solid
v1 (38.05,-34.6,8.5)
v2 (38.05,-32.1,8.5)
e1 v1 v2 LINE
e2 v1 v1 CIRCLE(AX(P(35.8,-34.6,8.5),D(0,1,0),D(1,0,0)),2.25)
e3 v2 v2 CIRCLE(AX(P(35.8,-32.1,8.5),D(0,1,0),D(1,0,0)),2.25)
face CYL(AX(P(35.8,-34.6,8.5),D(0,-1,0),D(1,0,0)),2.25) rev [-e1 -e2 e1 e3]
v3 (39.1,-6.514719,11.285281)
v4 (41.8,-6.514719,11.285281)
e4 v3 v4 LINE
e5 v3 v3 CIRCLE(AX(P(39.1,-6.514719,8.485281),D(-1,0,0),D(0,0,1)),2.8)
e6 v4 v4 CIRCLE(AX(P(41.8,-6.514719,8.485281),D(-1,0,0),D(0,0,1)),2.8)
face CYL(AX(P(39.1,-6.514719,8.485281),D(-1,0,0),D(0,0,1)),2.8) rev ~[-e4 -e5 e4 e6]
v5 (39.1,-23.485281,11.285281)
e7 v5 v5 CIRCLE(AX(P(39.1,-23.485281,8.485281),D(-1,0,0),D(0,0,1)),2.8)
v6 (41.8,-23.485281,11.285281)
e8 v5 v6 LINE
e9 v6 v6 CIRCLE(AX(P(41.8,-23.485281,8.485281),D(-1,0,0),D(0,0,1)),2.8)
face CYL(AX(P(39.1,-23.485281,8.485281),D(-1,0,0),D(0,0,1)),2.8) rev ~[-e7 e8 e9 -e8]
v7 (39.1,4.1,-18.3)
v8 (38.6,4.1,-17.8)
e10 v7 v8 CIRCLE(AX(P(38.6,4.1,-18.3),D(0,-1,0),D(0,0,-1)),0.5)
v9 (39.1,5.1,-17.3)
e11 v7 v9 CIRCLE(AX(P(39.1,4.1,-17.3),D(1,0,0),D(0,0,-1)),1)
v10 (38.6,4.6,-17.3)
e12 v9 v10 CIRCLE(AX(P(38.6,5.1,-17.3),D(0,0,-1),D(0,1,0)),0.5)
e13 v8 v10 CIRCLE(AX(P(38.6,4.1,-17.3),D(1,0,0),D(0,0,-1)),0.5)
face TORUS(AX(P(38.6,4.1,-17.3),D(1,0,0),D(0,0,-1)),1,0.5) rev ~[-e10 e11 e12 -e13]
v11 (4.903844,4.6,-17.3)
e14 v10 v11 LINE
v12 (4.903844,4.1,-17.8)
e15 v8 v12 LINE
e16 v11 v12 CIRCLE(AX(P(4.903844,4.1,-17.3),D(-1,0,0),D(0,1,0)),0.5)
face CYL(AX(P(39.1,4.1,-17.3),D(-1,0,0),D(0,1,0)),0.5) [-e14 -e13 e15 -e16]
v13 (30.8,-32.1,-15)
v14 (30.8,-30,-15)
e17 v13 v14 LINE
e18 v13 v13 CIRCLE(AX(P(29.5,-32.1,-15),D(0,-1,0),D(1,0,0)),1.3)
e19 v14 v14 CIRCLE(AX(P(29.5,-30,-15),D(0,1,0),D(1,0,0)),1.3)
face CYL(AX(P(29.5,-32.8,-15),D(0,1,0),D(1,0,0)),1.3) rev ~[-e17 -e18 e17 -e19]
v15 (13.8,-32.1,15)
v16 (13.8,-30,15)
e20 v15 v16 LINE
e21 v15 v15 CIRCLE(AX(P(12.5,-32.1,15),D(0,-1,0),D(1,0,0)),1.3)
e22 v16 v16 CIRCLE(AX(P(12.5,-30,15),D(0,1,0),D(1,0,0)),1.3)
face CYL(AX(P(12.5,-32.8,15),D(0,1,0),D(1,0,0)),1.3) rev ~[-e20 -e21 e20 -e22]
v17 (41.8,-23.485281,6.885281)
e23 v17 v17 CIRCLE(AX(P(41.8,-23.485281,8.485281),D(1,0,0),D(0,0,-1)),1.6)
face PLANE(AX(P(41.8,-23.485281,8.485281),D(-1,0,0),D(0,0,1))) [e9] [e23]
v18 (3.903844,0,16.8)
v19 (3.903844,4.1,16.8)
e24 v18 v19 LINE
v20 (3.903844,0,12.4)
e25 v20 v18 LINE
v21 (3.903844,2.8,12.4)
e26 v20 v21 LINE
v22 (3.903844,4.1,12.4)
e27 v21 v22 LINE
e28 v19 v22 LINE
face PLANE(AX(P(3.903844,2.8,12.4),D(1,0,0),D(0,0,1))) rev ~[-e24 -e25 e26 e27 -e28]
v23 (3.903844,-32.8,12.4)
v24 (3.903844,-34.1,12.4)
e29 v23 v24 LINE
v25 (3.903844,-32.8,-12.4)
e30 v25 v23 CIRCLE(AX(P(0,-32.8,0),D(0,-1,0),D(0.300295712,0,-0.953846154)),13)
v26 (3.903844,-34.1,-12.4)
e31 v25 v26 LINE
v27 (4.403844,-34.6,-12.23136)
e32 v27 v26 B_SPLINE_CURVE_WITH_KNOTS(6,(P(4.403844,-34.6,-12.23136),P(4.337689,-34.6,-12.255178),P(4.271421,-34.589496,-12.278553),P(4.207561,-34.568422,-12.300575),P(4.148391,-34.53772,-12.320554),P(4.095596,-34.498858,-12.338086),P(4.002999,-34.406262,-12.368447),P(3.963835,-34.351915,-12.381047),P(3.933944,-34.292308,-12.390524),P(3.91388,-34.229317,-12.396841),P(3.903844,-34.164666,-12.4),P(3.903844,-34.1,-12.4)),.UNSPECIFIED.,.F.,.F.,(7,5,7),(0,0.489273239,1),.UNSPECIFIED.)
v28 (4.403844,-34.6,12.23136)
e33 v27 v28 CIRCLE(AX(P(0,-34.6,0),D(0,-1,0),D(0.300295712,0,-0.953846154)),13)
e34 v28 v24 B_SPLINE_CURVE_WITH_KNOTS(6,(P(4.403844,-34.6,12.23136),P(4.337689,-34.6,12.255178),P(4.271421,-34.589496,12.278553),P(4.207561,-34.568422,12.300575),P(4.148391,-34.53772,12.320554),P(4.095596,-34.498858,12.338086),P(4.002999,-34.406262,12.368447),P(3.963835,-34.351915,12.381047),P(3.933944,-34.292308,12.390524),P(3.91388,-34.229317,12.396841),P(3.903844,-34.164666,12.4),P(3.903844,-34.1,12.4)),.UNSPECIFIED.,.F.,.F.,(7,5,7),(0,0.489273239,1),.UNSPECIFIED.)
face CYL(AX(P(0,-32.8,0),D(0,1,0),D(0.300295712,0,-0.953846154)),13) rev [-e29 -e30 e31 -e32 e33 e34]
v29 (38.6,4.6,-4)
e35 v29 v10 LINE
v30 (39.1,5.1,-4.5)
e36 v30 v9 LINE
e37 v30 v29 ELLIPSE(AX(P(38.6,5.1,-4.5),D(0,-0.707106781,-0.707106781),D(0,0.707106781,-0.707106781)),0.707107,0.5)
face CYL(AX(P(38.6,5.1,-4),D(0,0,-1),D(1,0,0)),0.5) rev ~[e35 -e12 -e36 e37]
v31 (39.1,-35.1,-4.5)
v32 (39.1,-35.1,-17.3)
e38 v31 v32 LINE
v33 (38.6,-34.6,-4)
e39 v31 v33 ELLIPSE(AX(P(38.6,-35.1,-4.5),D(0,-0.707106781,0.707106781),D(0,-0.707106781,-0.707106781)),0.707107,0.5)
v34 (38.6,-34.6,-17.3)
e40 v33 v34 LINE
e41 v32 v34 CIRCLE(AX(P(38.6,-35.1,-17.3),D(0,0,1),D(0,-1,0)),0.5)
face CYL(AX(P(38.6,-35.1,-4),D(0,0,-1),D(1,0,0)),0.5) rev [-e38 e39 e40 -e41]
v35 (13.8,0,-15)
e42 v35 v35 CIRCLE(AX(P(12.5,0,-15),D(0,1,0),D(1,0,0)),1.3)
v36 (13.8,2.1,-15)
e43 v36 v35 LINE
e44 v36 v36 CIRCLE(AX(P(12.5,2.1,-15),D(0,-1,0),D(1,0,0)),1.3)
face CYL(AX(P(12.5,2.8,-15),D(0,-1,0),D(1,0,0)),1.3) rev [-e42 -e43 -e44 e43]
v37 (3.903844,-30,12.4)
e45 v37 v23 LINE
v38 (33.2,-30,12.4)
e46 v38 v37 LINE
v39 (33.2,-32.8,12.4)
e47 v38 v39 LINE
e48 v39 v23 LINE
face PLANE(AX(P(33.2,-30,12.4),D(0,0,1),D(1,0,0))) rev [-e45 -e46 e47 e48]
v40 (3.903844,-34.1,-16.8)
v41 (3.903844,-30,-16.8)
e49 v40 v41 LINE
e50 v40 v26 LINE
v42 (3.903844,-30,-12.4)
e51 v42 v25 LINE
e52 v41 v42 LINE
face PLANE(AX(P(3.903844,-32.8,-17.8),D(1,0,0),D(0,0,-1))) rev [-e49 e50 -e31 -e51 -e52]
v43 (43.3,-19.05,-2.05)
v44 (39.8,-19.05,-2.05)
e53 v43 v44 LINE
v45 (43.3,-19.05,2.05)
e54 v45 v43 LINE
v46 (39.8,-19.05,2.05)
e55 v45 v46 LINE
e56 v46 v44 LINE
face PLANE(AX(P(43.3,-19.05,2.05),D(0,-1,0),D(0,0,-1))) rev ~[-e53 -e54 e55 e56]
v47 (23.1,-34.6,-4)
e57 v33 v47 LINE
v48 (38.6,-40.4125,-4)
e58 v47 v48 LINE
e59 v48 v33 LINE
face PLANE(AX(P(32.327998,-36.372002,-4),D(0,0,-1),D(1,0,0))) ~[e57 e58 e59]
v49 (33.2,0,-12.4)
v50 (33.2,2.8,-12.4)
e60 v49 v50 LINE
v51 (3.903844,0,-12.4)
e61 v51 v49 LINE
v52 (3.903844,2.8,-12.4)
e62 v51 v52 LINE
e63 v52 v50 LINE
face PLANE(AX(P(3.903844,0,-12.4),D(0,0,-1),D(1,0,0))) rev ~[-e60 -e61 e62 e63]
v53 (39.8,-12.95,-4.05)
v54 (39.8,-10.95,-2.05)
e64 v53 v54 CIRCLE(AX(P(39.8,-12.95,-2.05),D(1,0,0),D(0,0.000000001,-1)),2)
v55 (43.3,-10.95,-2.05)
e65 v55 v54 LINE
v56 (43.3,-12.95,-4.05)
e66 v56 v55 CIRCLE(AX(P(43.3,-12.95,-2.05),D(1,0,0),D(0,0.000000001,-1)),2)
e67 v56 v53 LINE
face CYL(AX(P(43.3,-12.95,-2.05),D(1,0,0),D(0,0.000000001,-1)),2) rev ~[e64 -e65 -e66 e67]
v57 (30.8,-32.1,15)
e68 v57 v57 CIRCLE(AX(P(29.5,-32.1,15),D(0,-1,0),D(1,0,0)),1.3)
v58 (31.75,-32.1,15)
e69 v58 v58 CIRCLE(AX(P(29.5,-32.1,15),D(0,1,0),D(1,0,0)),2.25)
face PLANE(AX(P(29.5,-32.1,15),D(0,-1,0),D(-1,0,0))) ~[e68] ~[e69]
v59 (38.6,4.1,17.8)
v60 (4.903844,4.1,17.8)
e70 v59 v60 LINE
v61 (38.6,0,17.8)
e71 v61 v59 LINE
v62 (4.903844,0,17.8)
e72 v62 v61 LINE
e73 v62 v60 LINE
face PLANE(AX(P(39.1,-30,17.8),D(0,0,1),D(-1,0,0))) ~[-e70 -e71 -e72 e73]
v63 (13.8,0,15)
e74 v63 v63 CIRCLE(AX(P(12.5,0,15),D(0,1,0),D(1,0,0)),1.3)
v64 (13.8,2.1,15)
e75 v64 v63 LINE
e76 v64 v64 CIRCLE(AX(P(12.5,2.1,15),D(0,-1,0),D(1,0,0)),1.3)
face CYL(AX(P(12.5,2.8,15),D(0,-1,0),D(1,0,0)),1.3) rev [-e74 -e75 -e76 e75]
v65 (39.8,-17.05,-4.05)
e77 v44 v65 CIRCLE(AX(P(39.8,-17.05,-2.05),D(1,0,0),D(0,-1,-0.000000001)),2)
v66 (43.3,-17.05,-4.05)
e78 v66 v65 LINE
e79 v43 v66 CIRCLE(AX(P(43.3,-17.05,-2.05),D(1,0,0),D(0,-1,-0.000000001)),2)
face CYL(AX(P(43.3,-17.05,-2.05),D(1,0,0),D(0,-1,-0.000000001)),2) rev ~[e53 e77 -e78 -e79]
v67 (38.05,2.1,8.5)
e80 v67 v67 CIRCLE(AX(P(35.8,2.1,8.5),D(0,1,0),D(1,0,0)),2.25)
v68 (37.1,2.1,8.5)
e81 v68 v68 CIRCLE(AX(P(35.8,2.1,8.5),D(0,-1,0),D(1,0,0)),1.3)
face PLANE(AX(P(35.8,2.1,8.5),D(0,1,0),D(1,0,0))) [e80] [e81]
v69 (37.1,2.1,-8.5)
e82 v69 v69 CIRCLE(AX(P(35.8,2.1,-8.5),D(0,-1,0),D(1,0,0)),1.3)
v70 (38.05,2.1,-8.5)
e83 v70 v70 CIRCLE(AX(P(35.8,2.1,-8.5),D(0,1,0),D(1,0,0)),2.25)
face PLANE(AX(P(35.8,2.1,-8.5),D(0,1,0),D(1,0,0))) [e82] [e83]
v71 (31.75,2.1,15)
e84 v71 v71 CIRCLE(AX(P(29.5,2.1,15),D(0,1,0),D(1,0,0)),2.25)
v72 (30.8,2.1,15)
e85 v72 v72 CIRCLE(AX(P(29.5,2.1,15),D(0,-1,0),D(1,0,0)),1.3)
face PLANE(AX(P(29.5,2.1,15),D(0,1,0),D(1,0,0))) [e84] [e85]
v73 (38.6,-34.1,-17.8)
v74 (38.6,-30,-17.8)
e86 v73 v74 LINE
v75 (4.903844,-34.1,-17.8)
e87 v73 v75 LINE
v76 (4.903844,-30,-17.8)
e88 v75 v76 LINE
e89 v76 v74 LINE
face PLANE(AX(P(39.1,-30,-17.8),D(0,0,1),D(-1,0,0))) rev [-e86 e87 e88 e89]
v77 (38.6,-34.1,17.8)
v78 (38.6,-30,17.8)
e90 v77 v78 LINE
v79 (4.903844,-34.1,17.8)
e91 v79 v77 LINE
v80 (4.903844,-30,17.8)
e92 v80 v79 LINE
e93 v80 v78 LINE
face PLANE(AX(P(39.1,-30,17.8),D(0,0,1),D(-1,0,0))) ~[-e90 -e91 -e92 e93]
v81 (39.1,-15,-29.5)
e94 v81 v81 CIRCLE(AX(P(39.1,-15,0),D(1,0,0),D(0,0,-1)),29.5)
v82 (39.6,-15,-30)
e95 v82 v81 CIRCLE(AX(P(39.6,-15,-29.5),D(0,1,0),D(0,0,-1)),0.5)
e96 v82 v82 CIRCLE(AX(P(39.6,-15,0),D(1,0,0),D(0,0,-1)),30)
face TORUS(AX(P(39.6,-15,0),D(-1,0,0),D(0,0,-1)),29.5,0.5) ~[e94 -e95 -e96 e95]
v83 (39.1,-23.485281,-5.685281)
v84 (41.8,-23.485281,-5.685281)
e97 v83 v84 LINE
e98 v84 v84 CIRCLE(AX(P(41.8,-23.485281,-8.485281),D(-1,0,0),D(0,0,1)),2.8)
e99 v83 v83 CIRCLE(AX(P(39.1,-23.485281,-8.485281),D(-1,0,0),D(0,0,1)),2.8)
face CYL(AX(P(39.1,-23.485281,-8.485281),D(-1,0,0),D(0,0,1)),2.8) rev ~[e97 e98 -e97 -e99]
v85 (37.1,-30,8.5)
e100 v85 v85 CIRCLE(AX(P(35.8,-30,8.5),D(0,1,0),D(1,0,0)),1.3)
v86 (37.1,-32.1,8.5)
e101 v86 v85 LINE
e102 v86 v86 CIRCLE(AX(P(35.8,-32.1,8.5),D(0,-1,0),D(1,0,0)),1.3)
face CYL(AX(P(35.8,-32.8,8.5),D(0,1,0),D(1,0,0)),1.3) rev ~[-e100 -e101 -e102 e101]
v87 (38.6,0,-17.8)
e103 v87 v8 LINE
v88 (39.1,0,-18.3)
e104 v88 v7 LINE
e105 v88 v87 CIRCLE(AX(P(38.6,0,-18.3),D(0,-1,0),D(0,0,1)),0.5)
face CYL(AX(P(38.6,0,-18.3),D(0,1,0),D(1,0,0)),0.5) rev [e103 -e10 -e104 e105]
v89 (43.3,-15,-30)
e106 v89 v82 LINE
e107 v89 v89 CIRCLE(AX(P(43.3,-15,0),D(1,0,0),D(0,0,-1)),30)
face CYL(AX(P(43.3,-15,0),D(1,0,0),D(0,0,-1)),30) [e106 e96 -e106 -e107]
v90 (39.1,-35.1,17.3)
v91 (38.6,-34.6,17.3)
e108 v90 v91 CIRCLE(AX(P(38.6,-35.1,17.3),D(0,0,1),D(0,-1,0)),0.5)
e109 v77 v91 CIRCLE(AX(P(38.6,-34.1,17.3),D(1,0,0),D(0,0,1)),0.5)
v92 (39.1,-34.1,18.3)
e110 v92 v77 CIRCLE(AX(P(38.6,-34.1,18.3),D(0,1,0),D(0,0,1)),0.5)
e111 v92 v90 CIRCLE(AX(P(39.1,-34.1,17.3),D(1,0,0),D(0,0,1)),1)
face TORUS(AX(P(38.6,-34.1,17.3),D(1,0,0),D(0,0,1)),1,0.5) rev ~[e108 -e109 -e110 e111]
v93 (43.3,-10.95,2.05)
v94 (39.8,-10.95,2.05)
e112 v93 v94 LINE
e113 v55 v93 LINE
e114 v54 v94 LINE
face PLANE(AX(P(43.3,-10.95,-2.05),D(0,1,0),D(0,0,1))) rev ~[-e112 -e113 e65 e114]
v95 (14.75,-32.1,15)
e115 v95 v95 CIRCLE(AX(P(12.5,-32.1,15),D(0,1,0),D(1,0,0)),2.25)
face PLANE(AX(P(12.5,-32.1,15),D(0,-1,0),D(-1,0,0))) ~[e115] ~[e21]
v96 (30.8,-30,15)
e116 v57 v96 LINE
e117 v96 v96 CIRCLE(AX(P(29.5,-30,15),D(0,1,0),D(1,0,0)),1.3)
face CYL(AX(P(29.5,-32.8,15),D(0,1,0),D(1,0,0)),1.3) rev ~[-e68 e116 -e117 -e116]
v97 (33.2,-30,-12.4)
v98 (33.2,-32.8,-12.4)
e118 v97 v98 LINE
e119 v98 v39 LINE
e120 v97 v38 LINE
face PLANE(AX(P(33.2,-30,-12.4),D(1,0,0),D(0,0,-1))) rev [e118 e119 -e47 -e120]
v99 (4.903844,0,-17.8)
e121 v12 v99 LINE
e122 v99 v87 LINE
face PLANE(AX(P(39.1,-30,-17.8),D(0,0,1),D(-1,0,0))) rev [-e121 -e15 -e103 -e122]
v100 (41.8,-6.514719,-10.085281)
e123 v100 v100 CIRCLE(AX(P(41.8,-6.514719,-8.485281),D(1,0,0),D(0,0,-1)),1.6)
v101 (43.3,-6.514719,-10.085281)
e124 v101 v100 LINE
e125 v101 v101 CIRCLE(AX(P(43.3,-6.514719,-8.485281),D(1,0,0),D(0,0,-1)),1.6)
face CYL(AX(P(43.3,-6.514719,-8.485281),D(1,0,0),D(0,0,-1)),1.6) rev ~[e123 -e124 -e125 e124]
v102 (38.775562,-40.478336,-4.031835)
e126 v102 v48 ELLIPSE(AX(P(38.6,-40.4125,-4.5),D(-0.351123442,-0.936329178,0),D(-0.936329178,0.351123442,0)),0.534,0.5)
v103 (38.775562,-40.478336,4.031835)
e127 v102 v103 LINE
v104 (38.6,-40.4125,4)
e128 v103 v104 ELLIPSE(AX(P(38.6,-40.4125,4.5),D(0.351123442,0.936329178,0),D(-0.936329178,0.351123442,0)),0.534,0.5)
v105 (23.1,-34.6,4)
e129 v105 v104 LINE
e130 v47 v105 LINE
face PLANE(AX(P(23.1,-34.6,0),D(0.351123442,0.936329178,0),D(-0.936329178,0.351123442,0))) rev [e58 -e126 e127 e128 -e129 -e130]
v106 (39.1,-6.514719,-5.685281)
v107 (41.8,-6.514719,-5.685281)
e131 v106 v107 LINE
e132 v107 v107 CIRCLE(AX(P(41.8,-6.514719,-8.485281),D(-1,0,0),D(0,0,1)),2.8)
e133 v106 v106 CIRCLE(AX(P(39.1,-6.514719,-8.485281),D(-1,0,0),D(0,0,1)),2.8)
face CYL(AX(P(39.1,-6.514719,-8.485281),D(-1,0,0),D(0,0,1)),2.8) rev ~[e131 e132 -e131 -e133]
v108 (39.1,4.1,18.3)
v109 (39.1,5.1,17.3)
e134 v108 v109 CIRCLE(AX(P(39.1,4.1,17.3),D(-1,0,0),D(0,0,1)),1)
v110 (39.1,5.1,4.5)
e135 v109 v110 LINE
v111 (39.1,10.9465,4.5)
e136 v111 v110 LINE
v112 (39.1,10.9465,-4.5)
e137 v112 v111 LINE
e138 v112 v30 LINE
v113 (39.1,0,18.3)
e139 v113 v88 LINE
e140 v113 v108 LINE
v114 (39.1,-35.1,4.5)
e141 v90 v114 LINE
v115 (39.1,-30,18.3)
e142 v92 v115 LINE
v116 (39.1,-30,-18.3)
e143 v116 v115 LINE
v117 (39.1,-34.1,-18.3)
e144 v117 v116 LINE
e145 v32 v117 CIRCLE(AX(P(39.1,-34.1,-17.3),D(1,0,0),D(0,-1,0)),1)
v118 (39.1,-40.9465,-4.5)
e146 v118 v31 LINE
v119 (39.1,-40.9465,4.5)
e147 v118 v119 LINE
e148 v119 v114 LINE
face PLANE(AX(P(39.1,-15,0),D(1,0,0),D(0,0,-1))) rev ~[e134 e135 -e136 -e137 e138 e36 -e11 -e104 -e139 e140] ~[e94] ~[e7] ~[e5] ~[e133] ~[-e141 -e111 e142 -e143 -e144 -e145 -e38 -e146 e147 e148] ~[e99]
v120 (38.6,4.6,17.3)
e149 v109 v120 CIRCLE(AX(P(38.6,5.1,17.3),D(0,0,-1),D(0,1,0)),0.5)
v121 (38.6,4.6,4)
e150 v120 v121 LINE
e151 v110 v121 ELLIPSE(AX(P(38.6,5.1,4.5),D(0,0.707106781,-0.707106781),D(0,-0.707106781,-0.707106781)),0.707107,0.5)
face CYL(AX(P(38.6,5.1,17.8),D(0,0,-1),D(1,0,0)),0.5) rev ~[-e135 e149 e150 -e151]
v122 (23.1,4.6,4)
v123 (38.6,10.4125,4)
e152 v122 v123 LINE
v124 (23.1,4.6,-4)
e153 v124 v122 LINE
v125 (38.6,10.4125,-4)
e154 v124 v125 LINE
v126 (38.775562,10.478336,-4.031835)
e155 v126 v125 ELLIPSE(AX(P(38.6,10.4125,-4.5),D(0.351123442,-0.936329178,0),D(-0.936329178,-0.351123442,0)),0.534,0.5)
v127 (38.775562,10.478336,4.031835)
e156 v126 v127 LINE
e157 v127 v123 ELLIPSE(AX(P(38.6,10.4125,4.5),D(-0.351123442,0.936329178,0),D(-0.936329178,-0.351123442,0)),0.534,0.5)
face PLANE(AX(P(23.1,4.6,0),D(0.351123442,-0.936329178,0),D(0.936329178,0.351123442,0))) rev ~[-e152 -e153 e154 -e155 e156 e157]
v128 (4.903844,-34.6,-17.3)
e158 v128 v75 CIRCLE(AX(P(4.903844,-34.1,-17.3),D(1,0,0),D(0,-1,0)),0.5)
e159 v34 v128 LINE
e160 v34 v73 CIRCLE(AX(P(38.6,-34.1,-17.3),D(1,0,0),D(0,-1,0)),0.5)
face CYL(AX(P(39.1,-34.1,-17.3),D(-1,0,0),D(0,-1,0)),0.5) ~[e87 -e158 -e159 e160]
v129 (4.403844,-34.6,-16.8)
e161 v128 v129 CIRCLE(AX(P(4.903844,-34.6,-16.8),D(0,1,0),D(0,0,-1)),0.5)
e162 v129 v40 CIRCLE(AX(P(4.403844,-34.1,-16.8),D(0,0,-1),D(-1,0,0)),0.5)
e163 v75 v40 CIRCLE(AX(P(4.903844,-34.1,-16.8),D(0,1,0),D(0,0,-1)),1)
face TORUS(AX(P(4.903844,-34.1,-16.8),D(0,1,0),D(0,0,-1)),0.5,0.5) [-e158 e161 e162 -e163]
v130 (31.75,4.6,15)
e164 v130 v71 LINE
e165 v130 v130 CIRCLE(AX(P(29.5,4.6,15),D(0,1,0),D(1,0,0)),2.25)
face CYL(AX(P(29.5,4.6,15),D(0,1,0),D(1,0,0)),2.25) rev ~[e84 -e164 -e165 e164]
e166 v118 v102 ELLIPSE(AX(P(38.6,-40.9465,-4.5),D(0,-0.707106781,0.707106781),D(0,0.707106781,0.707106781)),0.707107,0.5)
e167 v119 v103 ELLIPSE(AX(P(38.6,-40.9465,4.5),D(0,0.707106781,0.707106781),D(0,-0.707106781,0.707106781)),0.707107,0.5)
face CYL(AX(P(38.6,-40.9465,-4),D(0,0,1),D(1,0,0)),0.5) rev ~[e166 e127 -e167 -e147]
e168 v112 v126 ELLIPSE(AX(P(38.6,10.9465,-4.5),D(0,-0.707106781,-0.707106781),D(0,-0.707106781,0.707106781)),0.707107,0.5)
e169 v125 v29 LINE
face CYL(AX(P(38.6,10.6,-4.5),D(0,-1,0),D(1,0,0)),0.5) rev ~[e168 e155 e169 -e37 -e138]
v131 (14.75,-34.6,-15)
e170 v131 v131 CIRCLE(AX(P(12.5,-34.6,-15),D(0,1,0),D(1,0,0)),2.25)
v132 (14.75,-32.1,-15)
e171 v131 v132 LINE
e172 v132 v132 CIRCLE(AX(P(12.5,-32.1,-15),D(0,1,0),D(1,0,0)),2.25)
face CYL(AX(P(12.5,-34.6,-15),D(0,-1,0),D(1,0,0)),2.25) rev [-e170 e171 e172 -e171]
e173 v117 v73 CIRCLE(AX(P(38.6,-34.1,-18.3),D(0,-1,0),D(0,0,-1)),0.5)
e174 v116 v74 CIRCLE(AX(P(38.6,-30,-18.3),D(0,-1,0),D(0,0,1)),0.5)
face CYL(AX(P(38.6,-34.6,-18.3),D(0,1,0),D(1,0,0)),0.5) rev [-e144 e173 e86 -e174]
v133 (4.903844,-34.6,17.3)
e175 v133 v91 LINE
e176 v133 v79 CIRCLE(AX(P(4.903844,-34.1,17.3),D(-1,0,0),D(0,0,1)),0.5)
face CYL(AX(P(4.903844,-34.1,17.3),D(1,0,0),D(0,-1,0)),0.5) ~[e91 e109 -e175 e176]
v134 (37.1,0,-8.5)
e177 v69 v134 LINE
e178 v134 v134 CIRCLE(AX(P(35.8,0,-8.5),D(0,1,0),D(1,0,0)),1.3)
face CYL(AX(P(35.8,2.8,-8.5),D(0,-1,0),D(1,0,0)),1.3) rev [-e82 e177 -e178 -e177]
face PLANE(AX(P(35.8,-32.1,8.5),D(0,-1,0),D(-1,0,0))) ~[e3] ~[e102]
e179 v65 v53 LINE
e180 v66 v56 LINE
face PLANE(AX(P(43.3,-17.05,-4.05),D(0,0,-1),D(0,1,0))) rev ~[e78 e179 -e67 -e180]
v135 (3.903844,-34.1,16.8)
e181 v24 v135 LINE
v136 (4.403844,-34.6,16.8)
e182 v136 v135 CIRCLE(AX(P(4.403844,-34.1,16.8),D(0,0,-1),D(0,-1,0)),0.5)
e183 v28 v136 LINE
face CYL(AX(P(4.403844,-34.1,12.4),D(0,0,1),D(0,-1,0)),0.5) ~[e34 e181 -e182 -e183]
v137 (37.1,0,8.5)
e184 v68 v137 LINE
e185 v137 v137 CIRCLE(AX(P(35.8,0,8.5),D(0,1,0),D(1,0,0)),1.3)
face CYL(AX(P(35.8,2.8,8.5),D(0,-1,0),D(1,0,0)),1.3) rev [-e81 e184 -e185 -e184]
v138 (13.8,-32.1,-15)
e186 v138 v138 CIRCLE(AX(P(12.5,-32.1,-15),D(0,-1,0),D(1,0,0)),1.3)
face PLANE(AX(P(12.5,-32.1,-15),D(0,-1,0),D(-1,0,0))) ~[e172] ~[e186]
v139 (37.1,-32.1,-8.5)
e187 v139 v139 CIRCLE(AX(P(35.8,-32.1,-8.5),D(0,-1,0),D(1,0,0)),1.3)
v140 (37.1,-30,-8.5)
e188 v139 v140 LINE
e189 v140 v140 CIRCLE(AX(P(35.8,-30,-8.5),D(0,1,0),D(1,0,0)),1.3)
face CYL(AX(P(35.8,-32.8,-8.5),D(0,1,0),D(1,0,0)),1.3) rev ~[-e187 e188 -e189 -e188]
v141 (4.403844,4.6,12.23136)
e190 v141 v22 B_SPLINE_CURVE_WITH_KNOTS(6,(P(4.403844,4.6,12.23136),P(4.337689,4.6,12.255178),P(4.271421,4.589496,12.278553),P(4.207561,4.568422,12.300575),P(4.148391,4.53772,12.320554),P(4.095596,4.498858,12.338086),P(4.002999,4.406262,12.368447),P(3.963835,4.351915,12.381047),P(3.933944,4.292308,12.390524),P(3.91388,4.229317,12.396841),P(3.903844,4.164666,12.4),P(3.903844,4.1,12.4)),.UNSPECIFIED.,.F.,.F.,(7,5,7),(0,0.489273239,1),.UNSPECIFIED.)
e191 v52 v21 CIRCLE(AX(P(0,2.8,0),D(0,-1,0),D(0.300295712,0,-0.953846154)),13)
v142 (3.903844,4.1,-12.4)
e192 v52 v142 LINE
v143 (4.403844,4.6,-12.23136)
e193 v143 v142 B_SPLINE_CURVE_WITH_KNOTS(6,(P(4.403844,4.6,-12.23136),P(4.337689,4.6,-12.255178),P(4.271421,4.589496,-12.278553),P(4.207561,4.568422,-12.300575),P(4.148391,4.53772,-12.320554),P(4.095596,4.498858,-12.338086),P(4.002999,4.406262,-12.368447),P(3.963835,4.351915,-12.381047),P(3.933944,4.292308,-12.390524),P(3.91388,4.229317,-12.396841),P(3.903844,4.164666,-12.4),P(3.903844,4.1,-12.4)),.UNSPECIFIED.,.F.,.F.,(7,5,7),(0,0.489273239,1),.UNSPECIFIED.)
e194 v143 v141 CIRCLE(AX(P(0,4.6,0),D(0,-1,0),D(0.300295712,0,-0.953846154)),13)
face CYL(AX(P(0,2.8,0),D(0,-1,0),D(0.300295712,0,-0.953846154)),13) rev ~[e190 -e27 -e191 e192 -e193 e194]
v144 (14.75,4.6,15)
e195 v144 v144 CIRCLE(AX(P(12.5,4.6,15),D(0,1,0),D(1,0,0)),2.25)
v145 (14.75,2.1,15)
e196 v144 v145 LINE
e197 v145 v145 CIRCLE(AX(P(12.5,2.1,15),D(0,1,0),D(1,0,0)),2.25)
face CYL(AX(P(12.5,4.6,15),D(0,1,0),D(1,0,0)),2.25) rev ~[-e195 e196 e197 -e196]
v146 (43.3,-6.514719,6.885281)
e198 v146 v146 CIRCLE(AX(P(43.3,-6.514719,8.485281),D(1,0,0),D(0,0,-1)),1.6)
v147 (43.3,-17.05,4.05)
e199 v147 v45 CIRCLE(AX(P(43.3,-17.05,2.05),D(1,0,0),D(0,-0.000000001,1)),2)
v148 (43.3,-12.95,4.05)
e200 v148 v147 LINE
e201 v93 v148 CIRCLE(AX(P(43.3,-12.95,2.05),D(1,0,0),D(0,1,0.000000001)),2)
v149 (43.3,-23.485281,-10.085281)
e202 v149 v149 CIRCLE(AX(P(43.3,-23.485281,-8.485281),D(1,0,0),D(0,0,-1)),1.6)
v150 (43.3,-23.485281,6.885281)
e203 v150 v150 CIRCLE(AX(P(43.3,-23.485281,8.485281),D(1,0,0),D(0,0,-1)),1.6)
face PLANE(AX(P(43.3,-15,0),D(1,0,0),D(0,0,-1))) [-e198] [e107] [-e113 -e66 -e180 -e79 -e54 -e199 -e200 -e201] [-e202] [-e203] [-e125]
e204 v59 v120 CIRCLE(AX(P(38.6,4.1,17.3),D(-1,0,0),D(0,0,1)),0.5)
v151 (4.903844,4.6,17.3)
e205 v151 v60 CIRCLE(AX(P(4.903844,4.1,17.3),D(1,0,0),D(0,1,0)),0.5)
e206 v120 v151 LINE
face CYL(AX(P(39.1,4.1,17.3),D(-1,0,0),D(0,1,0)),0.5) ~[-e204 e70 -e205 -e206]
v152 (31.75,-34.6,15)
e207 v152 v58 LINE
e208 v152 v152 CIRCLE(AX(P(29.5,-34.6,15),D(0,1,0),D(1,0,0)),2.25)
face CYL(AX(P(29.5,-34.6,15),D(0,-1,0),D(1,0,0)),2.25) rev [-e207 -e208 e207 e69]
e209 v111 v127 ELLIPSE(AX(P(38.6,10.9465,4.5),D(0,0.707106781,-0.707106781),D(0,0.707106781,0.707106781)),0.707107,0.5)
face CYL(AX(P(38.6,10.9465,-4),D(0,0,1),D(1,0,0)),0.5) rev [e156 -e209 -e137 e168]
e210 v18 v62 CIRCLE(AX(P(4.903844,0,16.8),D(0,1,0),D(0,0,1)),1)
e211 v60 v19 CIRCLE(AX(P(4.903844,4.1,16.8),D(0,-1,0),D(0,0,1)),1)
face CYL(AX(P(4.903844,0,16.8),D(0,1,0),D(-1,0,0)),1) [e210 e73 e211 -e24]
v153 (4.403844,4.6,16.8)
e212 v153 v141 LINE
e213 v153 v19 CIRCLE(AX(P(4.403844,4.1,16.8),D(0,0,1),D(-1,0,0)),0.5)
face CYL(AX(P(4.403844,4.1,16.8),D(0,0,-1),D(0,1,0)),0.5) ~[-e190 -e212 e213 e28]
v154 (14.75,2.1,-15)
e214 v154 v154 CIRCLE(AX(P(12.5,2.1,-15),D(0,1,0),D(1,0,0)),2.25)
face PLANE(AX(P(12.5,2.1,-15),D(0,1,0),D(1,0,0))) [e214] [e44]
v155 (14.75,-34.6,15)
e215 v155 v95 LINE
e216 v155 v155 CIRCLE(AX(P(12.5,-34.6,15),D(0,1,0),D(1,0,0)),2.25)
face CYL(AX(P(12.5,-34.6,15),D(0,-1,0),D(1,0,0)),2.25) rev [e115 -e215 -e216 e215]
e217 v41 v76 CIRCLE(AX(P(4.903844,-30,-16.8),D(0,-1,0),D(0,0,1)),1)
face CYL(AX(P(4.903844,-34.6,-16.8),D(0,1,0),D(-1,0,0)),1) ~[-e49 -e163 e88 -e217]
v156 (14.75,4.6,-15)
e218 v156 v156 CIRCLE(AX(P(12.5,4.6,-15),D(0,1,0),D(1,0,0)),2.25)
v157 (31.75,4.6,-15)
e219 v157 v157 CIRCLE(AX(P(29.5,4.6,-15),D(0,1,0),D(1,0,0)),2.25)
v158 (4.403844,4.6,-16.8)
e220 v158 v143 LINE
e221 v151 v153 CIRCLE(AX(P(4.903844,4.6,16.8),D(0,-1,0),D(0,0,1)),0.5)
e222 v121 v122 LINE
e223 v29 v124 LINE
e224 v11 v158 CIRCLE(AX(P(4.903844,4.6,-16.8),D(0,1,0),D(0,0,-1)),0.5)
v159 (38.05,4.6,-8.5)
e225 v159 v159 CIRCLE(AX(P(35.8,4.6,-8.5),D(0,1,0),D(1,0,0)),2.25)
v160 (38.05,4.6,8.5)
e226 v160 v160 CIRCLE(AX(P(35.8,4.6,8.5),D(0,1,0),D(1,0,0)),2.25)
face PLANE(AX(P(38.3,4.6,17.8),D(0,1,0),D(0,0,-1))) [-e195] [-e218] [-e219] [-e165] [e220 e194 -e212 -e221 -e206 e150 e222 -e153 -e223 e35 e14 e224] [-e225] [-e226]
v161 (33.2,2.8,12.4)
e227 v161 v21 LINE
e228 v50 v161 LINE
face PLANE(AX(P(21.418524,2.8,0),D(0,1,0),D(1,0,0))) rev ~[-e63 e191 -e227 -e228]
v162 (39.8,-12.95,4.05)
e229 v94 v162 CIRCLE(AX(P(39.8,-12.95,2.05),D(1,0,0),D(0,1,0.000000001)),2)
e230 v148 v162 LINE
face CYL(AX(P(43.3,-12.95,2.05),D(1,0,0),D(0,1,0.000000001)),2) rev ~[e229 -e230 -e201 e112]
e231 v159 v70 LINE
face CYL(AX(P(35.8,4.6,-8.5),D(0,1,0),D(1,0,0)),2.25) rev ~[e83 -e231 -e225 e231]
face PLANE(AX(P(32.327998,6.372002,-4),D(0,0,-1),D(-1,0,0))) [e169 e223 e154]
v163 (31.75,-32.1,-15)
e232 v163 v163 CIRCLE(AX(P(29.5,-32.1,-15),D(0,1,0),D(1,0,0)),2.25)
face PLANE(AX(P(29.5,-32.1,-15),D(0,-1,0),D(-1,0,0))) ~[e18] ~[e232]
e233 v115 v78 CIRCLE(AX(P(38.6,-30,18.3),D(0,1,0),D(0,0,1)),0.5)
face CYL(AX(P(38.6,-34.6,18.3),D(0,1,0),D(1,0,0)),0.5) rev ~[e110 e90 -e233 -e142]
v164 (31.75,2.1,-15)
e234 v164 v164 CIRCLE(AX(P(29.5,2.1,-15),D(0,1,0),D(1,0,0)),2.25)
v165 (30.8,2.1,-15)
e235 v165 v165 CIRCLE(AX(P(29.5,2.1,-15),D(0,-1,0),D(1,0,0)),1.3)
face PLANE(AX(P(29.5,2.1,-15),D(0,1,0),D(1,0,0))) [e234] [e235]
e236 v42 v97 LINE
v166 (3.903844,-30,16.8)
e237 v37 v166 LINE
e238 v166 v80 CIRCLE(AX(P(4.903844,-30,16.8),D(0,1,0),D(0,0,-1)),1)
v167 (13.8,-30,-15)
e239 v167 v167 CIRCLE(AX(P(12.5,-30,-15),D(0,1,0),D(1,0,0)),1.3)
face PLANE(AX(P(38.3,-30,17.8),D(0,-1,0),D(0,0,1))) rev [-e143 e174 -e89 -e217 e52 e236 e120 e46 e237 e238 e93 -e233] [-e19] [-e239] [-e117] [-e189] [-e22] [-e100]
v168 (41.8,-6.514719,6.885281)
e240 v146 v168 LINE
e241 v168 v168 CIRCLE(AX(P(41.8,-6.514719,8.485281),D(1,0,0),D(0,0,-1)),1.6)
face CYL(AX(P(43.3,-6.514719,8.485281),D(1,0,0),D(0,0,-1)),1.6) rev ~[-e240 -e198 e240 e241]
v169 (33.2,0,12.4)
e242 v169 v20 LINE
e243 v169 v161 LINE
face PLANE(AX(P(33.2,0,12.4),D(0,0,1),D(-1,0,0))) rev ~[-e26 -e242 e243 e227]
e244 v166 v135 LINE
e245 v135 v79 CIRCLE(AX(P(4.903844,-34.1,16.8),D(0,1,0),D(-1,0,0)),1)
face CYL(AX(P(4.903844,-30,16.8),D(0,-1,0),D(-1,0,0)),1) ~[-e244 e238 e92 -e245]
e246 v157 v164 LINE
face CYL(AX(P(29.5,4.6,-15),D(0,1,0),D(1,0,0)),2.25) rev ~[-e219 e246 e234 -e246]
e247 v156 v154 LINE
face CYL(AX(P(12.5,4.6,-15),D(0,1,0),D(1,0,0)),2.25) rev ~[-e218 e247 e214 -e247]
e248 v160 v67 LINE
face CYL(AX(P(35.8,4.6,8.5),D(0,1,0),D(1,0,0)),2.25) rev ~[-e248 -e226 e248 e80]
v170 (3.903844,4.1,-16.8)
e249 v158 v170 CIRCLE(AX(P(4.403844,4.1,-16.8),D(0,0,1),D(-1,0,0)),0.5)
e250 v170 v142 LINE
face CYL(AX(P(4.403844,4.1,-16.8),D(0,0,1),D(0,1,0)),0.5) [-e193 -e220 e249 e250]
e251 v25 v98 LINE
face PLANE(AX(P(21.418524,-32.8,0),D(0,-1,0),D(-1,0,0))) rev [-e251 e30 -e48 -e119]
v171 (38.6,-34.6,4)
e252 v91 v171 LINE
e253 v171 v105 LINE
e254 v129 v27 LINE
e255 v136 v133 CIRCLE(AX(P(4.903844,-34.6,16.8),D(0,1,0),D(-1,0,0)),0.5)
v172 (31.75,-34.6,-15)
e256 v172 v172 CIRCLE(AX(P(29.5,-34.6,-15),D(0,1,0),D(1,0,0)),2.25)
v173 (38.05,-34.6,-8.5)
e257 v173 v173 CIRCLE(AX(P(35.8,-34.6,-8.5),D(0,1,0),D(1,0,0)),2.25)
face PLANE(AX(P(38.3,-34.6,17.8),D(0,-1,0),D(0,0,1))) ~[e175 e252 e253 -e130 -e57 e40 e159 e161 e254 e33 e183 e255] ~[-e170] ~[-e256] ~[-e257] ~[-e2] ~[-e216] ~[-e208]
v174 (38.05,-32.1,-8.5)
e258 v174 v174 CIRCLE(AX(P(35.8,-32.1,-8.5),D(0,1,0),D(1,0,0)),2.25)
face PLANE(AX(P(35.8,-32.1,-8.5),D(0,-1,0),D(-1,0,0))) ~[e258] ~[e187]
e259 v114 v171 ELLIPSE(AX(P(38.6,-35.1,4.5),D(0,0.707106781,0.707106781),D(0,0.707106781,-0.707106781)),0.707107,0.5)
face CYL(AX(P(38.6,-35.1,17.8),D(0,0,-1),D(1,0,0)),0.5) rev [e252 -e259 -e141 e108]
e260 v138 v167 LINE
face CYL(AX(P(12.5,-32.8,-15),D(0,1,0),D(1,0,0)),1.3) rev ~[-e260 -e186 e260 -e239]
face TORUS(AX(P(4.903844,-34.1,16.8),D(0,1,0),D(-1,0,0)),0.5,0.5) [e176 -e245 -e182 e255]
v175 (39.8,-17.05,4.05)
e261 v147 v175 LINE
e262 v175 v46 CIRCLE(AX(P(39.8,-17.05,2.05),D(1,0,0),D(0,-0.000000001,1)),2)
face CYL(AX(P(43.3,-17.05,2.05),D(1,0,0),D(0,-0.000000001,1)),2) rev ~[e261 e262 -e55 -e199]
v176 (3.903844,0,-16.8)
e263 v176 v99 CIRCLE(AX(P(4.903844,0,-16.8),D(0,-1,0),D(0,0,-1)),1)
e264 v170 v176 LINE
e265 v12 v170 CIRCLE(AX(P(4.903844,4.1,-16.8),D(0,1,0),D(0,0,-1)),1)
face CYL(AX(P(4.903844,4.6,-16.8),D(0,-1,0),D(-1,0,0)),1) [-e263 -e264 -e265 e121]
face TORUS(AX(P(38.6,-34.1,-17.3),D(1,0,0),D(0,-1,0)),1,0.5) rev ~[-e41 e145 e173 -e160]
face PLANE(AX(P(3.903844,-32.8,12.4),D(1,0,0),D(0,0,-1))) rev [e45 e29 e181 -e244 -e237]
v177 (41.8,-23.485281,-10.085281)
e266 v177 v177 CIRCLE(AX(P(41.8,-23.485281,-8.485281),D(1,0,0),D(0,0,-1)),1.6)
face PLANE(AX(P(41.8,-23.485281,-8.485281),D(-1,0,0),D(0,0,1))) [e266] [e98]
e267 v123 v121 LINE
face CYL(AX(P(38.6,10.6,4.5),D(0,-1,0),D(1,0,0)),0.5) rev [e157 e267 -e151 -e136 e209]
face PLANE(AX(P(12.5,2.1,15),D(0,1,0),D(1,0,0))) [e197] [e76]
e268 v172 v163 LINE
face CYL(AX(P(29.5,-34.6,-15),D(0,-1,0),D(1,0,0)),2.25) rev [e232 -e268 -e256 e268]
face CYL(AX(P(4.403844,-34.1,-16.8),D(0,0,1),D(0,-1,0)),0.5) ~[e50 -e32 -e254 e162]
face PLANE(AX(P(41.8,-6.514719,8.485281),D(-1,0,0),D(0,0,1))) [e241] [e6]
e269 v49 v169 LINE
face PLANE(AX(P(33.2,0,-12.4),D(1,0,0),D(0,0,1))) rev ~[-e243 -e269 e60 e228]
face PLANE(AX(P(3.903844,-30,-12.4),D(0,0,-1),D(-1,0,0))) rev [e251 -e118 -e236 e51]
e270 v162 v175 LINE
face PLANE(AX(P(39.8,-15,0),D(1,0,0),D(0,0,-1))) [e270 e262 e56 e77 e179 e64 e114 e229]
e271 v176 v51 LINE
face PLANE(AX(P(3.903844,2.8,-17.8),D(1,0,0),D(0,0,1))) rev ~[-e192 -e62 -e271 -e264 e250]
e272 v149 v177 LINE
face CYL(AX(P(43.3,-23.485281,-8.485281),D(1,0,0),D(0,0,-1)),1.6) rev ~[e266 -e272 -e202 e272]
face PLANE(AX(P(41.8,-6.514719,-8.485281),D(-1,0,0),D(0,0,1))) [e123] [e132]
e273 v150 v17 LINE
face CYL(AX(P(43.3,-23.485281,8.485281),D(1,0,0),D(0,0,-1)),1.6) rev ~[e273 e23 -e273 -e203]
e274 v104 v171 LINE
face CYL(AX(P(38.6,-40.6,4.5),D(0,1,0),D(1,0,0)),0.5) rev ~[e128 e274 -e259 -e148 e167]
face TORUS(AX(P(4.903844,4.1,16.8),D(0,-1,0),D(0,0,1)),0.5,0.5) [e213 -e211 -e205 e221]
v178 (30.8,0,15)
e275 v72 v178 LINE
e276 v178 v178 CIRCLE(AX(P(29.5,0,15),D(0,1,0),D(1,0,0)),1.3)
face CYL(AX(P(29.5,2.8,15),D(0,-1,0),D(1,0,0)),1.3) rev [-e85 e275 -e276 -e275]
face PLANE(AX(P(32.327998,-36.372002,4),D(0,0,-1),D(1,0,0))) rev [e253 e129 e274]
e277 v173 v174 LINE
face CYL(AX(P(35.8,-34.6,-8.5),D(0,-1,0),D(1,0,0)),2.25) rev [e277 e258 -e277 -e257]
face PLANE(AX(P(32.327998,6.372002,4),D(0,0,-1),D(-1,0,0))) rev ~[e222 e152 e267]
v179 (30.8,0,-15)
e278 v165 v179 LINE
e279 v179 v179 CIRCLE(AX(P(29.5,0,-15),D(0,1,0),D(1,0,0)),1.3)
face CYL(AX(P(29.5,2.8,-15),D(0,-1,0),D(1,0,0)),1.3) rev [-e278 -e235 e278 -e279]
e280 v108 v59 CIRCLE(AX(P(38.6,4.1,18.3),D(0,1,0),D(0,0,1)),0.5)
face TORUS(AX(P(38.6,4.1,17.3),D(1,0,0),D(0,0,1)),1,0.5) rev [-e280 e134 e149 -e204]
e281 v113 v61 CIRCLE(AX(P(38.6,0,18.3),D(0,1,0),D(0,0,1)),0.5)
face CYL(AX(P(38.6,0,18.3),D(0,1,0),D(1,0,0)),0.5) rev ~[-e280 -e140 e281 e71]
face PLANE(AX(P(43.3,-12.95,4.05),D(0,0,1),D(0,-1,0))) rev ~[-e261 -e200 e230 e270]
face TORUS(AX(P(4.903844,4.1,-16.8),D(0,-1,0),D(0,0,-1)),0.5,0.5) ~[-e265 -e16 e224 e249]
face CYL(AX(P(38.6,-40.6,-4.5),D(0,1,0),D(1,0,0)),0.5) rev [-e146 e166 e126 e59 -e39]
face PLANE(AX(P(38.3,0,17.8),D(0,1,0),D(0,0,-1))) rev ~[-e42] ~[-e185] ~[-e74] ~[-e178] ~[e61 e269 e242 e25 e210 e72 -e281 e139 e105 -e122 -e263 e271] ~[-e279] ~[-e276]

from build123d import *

# Parameters (mm, degrees)
SKETCH1_R           = 1.3
BOSS_EXTRUDE1_DEPTH = 2.8
SKETCH2_R           = 1.3
BOSS_EXTRUDE2_DEPTH = 1.8
SKETCH3_R           = 2.25
CUT_EXTRUDE1_DEPTH  = 2.5
SKETCH4_W           = 35.6
SKETCH4_H           = 4.6
BOSS_EXTRUDE3_DEPTH = 5
SKETCH5_W           = 4.2
SKETCH5_H           = 35.6
BOSS_EXTRUDE4_DEPTH = 15
FILLET1_R           = 1
SKETCH6_R           = 1.6
CUT_EXTRUDE2_DEPTH  = 40.396155741
SKETCH7_R           = 2.8
CUT_EXTRUDE3_DEPTH  = 2.7
CUT_EXTRUDE4_DEPTH  = 3.5
SKETCH9_R           = 30
SKETCH9_W           = 35.6
SKETCH9_H           = 39.2
BOSS_EXTRUDE5_DEPTH = 4.2
BOSS_EXTRUDE6_DEPTH = 4
FILLET2_R           = 0.5
FILLET3_R           = 0.5


with BuildPart() as part:
    # Sketch1 → Boss-Extrude1 (new body)
    with BuildSketch(Plane(origin=(0, 0, 0), x_dir=(1, 0, 0), z_dir=(0, 1, 0))):
        Polygon((33.2, 12.4), (33.2, -12.4), (3.903844259, -12.4), (3.903844259, -17.8), (38.3, -17.8), (38.3, 17.8), (3.903844259, 17.8), (3.903844259, 12.4), align=None)
        with Locations((12.5, 15)):
            Circle(SKETCH1_R, mode=Mode.SUBTRACT)
        with Locations((29.5, 15)):
            Circle(SKETCH1_R, mode=Mode.SUBTRACT)
        with Locations((29.5, -15)):
            Circle(SKETCH1_R, mode=Mode.SUBTRACT)
        with Locations((12.5, -15)):
            Circle(SKETCH1_R, mode=Mode.SUBTRACT)
        with Locations((35.8, -8.5)):
            Circle(SKETCH1_R, mode=Mode.SUBTRACT)
        with Locations((35.8, 8.5)):
            Circle(SKETCH1_R, mode=Mode.SUBTRACT)
    extrude(amount=BOSS_EXTRUDE1_DEPTH)

    # Sketch2 → Boss-Extrude2 (add)
    with BuildSketch(Plane(origin=(0, 2.8, 0), x_dir=(1, 0, 0), z_dir=(0, 1, 0))):
        with BuildLine():
            Line((3.903844259, -12.4), (3.903844259, -17.8))
            Line((3.903844259, -17.8), (38.3, -17.8))
            Line((38.3, -17.8), (38.3, 17.8))
            Line((38.3, 17.8), (3.903844259, 17.8))
            Line((3.903844259, 17.8), (3.903844259, 12.4))
            ThreePointArc((3.903844259, 12.4), (13, 0), (3.903844259, -12.4))
        make_face()
        with Locations((12.5, -15)):
            Circle(SKETCH2_R, mode=Mode.SUBTRACT)
        with Locations((29.5, -15)):
            Circle(SKETCH2_R, mode=Mode.SUBTRACT)
        with Locations((35.8, -8.5)):
            Circle(SKETCH2_R, mode=Mode.SUBTRACT)
        with Locations((35.8, 8.5)):
            Circle(SKETCH2_R, mode=Mode.SUBTRACT)
        with Locations((29.5, 15)):
            Circle(SKETCH2_R, mode=Mode.SUBTRACT)
        with Locations((12.5, 15)):
            Circle(SKETCH2_R, mode=Mode.SUBTRACT)
    extrude(amount=BOSS_EXTRUDE2_DEPTH)

    # Sketch3 → Cut-Extrude1 (cut)
    with BuildSketch(Plane(origin=(0, 4.6, 0), x_dir=(1, 0, 0), z_dir=(0, 1, 0))):
        with Locations((12.5, 15)):
            Circle(SKETCH3_R)
        with Locations((29.5, 15)):
            Circle(SKETCH3_R)
        with Locations((35.8, 8.5)):
            Circle(SKETCH3_R)
        with Locations((35.8, -8.5)):
            Circle(SKETCH3_R)
        with Locations((29.5, -15)):
            Circle(SKETCH3_R)
        with Locations((12.5, -15)):
            Circle(SKETCH3_R)
    extrude(amount=-CUT_EXTRUDE1_DEPTH, mode=Mode.SUBTRACT)

    # Sketch4 → Boss-Extrude3 (add)
    with BuildSketch(Plane(origin=(38.3, 0, 0), x_dir=(0, 0, -1), z_dir=(1, 0, 0))):
        with Locations((0, 2.3)):
            Rectangle(SKETCH4_W, SKETCH4_H)
    extrude(amount=BOSS_EXTRUDE3_DEPTH)

    # Sketch5 → Boss-Extrude4 (add)
    with BuildSketch(Plane.XZ):
        with Locations((41.2, 0)):
            Rectangle(SKETCH5_W, SKETCH5_H)
    extrude(amount=BOSS_EXTRUDE4_DEPTH)

    # Mirror1: part across plane


with BuildPart() as part_1:
    add(part.part)
    add(part.part.mirror(Plane.ZX.offset(-15)))

    # Fillet1
    fillet1_edges = [part_1.edges().sort_by_distance(p)[0] for p in [
        (3.903844259, 2.3, -17.8),
        (3.903844259, 2.3, 17.8),
        (3.903844259, -32.3, 17.8),
        (3.903844259, -32.3, -17.8),
    ]]
    fillet(fillet1_edges, radius=FILLET1_R)

    # Sketch6 → Cut-Extrude2 (cut, through all)
    with BuildSketch(Plane(origin=(43.3, 0, 0), x_dir=(0, 0, -1), z_dir=(1, 0, 0))):
        with Locations((8.485281374, -23.485281374)):
            Circle(SKETCH6_R)
        with Locations((-8.485281374, -23.485281374)):
            Circle(SKETCH6_R)
        with Locations((-8.485281374, -6.514718626)):
            Circle(SKETCH6_R)
        with Locations((8.485281374, -6.514718626)):
            Circle(SKETCH6_R)
    extrude(amount=-CUT_EXTRUDE2_DEPTH, mode=Mode.SUBTRACT)

    # Sketch7 → Cut-Extrude3 (cut)
    with BuildSketch(Plane.ZY.offset(-39.1)):
        with Locations((-8.485281374, -6.514718626)):
            Circle(SKETCH7_R)
        with Locations((8.485281374, -6.514718626)):
            Circle(SKETCH7_R)
        with Locations((-8.485281374, -23.485281374)):
            Circle(SKETCH7_R)
        with Locations((8.485281374, -23.485281374)):
            Circle(SKETCH7_R)
    extrude(amount=-CUT_EXTRUDE3_DEPTH, mode=Mode.SUBTRACT)

    # Sketch8 → Cut-Extrude4 (cut)
    with BuildSketch(Plane(origin=(43.3, 0, 0), x_dir=(0, 0, -1), z_dir=(1, 0, 0))):
        with BuildLine():
            Line((-2.05, -19.05), (2.05, -19.05))
            ThreePointArc((2.05, -19.05), (3.464213562, -18.464213562), (4.05, -17.05))
            Line((4.05, -17.05), (4.05, -12.95))
            ThreePointArc((4.05, -12.95), (3.464213562, -11.535786438), (2.05, -10.95))
            Line((2.05, -10.95), (-2.05, -10.95))
            ThreePointArc((-2.05, -10.95), (-3.464213562, -11.535786438), (-4.05, -12.95))
            Line((-4.05, -12.95), (-4.05, -17.05))
            ThreePointArc((-4.05, -17.05), (-3.464213562, -18.464213562), (-2.05, -19.05))
        make_face()
    extrude(amount=-CUT_EXTRUDE4_DEPTH, mode=Mode.SUBTRACT)

    # Sketch9 → Boss-Extrude5 (add)
    with BuildSketch(Plane(origin=(43.3, 0, 0), x_dir=(0, 0, -1), z_dir=(1, 0, 0))):
        with Locations((0, -15)):
            Circle(SKETCH9_R)
        with Locations((0, -15)):
            Rectangle(SKETCH9_W, SKETCH9_H, mode=Mode.SUBTRACT)
    extrude(amount=-BOSS_EXTRUDE5_DEPTH)

    # Sketch10 → Boss-Extrude6 (add, symmetric)
    with BuildSketch(Plane.XY):
        Polygon((39.1, 10.6), (39.1, 4.6), (23.1, 4.6), align=None)
    boss_extrude6 = extrude(amount=BOSS_EXTRUDE6_DEPTH, both=True)

    # Mirror2: Boss-Extrude6 across plane
    add(boss_extrude6.mirror(Plane(origin=(0, -15, 0), x_dir=(0, 0, 1), z_dir=(0, -1, 0))))

    # Fillet2
    fillet2_edges = [part_1.edges().sort_by_distance(p)[0] for p in [
        (39.1, -15, 30),
    ]]
    fillet(fillet2_edges, radius=FILLET2_R)

    # Fillet3
    fillet3_edges = [part_1.edges().sort_by_distance(p)[0] for p in [
        (3.903844259, -34.6, 14.6),
        (3.903844259, 4.6, -14.6),
        (22.00192213, 4.6, 17.8),
        (4.196737478, 4.6, 17.507106781),
        (4.196737478, 4.6, -17.507106781),
        (3.903844259, -34.6, -14.6),
        (22.00192213, -34.6, 17.8),
        (4.196737478, -34.6, 17.507106781),
        (4.196737478, -34.6, -17.507106781),
        (22.00192213, -34.6, -17.8),
        (22.00192213, 4.6, -17.8),
        (39.1, -32.3, 17.8),
        (39.1, 2.3, 17.8),
        (39.1, -34.6, -10.9),
        (39.1, 2.3, -17.8),
        (39.1, -32.3, -17.8),
        (39.1, 4.6, 10.9),
        (39.1, 4.6, -10.9),
        (39.1, 10.6, 0),
        (39.1, 7.6, -4),
        (39.1, 7.6, 4),
        (39.1, -34.6, 10.9),
        (39.1, -37.6, 4),
        (39.1, -40.6, 0),
        (39.1, -37.6, -4),
        (3.903844259, 4.6, 14.6),
    ]]
    fillet(fillet3_edges, radius=FILLET3_R)


solid = part_1.part
